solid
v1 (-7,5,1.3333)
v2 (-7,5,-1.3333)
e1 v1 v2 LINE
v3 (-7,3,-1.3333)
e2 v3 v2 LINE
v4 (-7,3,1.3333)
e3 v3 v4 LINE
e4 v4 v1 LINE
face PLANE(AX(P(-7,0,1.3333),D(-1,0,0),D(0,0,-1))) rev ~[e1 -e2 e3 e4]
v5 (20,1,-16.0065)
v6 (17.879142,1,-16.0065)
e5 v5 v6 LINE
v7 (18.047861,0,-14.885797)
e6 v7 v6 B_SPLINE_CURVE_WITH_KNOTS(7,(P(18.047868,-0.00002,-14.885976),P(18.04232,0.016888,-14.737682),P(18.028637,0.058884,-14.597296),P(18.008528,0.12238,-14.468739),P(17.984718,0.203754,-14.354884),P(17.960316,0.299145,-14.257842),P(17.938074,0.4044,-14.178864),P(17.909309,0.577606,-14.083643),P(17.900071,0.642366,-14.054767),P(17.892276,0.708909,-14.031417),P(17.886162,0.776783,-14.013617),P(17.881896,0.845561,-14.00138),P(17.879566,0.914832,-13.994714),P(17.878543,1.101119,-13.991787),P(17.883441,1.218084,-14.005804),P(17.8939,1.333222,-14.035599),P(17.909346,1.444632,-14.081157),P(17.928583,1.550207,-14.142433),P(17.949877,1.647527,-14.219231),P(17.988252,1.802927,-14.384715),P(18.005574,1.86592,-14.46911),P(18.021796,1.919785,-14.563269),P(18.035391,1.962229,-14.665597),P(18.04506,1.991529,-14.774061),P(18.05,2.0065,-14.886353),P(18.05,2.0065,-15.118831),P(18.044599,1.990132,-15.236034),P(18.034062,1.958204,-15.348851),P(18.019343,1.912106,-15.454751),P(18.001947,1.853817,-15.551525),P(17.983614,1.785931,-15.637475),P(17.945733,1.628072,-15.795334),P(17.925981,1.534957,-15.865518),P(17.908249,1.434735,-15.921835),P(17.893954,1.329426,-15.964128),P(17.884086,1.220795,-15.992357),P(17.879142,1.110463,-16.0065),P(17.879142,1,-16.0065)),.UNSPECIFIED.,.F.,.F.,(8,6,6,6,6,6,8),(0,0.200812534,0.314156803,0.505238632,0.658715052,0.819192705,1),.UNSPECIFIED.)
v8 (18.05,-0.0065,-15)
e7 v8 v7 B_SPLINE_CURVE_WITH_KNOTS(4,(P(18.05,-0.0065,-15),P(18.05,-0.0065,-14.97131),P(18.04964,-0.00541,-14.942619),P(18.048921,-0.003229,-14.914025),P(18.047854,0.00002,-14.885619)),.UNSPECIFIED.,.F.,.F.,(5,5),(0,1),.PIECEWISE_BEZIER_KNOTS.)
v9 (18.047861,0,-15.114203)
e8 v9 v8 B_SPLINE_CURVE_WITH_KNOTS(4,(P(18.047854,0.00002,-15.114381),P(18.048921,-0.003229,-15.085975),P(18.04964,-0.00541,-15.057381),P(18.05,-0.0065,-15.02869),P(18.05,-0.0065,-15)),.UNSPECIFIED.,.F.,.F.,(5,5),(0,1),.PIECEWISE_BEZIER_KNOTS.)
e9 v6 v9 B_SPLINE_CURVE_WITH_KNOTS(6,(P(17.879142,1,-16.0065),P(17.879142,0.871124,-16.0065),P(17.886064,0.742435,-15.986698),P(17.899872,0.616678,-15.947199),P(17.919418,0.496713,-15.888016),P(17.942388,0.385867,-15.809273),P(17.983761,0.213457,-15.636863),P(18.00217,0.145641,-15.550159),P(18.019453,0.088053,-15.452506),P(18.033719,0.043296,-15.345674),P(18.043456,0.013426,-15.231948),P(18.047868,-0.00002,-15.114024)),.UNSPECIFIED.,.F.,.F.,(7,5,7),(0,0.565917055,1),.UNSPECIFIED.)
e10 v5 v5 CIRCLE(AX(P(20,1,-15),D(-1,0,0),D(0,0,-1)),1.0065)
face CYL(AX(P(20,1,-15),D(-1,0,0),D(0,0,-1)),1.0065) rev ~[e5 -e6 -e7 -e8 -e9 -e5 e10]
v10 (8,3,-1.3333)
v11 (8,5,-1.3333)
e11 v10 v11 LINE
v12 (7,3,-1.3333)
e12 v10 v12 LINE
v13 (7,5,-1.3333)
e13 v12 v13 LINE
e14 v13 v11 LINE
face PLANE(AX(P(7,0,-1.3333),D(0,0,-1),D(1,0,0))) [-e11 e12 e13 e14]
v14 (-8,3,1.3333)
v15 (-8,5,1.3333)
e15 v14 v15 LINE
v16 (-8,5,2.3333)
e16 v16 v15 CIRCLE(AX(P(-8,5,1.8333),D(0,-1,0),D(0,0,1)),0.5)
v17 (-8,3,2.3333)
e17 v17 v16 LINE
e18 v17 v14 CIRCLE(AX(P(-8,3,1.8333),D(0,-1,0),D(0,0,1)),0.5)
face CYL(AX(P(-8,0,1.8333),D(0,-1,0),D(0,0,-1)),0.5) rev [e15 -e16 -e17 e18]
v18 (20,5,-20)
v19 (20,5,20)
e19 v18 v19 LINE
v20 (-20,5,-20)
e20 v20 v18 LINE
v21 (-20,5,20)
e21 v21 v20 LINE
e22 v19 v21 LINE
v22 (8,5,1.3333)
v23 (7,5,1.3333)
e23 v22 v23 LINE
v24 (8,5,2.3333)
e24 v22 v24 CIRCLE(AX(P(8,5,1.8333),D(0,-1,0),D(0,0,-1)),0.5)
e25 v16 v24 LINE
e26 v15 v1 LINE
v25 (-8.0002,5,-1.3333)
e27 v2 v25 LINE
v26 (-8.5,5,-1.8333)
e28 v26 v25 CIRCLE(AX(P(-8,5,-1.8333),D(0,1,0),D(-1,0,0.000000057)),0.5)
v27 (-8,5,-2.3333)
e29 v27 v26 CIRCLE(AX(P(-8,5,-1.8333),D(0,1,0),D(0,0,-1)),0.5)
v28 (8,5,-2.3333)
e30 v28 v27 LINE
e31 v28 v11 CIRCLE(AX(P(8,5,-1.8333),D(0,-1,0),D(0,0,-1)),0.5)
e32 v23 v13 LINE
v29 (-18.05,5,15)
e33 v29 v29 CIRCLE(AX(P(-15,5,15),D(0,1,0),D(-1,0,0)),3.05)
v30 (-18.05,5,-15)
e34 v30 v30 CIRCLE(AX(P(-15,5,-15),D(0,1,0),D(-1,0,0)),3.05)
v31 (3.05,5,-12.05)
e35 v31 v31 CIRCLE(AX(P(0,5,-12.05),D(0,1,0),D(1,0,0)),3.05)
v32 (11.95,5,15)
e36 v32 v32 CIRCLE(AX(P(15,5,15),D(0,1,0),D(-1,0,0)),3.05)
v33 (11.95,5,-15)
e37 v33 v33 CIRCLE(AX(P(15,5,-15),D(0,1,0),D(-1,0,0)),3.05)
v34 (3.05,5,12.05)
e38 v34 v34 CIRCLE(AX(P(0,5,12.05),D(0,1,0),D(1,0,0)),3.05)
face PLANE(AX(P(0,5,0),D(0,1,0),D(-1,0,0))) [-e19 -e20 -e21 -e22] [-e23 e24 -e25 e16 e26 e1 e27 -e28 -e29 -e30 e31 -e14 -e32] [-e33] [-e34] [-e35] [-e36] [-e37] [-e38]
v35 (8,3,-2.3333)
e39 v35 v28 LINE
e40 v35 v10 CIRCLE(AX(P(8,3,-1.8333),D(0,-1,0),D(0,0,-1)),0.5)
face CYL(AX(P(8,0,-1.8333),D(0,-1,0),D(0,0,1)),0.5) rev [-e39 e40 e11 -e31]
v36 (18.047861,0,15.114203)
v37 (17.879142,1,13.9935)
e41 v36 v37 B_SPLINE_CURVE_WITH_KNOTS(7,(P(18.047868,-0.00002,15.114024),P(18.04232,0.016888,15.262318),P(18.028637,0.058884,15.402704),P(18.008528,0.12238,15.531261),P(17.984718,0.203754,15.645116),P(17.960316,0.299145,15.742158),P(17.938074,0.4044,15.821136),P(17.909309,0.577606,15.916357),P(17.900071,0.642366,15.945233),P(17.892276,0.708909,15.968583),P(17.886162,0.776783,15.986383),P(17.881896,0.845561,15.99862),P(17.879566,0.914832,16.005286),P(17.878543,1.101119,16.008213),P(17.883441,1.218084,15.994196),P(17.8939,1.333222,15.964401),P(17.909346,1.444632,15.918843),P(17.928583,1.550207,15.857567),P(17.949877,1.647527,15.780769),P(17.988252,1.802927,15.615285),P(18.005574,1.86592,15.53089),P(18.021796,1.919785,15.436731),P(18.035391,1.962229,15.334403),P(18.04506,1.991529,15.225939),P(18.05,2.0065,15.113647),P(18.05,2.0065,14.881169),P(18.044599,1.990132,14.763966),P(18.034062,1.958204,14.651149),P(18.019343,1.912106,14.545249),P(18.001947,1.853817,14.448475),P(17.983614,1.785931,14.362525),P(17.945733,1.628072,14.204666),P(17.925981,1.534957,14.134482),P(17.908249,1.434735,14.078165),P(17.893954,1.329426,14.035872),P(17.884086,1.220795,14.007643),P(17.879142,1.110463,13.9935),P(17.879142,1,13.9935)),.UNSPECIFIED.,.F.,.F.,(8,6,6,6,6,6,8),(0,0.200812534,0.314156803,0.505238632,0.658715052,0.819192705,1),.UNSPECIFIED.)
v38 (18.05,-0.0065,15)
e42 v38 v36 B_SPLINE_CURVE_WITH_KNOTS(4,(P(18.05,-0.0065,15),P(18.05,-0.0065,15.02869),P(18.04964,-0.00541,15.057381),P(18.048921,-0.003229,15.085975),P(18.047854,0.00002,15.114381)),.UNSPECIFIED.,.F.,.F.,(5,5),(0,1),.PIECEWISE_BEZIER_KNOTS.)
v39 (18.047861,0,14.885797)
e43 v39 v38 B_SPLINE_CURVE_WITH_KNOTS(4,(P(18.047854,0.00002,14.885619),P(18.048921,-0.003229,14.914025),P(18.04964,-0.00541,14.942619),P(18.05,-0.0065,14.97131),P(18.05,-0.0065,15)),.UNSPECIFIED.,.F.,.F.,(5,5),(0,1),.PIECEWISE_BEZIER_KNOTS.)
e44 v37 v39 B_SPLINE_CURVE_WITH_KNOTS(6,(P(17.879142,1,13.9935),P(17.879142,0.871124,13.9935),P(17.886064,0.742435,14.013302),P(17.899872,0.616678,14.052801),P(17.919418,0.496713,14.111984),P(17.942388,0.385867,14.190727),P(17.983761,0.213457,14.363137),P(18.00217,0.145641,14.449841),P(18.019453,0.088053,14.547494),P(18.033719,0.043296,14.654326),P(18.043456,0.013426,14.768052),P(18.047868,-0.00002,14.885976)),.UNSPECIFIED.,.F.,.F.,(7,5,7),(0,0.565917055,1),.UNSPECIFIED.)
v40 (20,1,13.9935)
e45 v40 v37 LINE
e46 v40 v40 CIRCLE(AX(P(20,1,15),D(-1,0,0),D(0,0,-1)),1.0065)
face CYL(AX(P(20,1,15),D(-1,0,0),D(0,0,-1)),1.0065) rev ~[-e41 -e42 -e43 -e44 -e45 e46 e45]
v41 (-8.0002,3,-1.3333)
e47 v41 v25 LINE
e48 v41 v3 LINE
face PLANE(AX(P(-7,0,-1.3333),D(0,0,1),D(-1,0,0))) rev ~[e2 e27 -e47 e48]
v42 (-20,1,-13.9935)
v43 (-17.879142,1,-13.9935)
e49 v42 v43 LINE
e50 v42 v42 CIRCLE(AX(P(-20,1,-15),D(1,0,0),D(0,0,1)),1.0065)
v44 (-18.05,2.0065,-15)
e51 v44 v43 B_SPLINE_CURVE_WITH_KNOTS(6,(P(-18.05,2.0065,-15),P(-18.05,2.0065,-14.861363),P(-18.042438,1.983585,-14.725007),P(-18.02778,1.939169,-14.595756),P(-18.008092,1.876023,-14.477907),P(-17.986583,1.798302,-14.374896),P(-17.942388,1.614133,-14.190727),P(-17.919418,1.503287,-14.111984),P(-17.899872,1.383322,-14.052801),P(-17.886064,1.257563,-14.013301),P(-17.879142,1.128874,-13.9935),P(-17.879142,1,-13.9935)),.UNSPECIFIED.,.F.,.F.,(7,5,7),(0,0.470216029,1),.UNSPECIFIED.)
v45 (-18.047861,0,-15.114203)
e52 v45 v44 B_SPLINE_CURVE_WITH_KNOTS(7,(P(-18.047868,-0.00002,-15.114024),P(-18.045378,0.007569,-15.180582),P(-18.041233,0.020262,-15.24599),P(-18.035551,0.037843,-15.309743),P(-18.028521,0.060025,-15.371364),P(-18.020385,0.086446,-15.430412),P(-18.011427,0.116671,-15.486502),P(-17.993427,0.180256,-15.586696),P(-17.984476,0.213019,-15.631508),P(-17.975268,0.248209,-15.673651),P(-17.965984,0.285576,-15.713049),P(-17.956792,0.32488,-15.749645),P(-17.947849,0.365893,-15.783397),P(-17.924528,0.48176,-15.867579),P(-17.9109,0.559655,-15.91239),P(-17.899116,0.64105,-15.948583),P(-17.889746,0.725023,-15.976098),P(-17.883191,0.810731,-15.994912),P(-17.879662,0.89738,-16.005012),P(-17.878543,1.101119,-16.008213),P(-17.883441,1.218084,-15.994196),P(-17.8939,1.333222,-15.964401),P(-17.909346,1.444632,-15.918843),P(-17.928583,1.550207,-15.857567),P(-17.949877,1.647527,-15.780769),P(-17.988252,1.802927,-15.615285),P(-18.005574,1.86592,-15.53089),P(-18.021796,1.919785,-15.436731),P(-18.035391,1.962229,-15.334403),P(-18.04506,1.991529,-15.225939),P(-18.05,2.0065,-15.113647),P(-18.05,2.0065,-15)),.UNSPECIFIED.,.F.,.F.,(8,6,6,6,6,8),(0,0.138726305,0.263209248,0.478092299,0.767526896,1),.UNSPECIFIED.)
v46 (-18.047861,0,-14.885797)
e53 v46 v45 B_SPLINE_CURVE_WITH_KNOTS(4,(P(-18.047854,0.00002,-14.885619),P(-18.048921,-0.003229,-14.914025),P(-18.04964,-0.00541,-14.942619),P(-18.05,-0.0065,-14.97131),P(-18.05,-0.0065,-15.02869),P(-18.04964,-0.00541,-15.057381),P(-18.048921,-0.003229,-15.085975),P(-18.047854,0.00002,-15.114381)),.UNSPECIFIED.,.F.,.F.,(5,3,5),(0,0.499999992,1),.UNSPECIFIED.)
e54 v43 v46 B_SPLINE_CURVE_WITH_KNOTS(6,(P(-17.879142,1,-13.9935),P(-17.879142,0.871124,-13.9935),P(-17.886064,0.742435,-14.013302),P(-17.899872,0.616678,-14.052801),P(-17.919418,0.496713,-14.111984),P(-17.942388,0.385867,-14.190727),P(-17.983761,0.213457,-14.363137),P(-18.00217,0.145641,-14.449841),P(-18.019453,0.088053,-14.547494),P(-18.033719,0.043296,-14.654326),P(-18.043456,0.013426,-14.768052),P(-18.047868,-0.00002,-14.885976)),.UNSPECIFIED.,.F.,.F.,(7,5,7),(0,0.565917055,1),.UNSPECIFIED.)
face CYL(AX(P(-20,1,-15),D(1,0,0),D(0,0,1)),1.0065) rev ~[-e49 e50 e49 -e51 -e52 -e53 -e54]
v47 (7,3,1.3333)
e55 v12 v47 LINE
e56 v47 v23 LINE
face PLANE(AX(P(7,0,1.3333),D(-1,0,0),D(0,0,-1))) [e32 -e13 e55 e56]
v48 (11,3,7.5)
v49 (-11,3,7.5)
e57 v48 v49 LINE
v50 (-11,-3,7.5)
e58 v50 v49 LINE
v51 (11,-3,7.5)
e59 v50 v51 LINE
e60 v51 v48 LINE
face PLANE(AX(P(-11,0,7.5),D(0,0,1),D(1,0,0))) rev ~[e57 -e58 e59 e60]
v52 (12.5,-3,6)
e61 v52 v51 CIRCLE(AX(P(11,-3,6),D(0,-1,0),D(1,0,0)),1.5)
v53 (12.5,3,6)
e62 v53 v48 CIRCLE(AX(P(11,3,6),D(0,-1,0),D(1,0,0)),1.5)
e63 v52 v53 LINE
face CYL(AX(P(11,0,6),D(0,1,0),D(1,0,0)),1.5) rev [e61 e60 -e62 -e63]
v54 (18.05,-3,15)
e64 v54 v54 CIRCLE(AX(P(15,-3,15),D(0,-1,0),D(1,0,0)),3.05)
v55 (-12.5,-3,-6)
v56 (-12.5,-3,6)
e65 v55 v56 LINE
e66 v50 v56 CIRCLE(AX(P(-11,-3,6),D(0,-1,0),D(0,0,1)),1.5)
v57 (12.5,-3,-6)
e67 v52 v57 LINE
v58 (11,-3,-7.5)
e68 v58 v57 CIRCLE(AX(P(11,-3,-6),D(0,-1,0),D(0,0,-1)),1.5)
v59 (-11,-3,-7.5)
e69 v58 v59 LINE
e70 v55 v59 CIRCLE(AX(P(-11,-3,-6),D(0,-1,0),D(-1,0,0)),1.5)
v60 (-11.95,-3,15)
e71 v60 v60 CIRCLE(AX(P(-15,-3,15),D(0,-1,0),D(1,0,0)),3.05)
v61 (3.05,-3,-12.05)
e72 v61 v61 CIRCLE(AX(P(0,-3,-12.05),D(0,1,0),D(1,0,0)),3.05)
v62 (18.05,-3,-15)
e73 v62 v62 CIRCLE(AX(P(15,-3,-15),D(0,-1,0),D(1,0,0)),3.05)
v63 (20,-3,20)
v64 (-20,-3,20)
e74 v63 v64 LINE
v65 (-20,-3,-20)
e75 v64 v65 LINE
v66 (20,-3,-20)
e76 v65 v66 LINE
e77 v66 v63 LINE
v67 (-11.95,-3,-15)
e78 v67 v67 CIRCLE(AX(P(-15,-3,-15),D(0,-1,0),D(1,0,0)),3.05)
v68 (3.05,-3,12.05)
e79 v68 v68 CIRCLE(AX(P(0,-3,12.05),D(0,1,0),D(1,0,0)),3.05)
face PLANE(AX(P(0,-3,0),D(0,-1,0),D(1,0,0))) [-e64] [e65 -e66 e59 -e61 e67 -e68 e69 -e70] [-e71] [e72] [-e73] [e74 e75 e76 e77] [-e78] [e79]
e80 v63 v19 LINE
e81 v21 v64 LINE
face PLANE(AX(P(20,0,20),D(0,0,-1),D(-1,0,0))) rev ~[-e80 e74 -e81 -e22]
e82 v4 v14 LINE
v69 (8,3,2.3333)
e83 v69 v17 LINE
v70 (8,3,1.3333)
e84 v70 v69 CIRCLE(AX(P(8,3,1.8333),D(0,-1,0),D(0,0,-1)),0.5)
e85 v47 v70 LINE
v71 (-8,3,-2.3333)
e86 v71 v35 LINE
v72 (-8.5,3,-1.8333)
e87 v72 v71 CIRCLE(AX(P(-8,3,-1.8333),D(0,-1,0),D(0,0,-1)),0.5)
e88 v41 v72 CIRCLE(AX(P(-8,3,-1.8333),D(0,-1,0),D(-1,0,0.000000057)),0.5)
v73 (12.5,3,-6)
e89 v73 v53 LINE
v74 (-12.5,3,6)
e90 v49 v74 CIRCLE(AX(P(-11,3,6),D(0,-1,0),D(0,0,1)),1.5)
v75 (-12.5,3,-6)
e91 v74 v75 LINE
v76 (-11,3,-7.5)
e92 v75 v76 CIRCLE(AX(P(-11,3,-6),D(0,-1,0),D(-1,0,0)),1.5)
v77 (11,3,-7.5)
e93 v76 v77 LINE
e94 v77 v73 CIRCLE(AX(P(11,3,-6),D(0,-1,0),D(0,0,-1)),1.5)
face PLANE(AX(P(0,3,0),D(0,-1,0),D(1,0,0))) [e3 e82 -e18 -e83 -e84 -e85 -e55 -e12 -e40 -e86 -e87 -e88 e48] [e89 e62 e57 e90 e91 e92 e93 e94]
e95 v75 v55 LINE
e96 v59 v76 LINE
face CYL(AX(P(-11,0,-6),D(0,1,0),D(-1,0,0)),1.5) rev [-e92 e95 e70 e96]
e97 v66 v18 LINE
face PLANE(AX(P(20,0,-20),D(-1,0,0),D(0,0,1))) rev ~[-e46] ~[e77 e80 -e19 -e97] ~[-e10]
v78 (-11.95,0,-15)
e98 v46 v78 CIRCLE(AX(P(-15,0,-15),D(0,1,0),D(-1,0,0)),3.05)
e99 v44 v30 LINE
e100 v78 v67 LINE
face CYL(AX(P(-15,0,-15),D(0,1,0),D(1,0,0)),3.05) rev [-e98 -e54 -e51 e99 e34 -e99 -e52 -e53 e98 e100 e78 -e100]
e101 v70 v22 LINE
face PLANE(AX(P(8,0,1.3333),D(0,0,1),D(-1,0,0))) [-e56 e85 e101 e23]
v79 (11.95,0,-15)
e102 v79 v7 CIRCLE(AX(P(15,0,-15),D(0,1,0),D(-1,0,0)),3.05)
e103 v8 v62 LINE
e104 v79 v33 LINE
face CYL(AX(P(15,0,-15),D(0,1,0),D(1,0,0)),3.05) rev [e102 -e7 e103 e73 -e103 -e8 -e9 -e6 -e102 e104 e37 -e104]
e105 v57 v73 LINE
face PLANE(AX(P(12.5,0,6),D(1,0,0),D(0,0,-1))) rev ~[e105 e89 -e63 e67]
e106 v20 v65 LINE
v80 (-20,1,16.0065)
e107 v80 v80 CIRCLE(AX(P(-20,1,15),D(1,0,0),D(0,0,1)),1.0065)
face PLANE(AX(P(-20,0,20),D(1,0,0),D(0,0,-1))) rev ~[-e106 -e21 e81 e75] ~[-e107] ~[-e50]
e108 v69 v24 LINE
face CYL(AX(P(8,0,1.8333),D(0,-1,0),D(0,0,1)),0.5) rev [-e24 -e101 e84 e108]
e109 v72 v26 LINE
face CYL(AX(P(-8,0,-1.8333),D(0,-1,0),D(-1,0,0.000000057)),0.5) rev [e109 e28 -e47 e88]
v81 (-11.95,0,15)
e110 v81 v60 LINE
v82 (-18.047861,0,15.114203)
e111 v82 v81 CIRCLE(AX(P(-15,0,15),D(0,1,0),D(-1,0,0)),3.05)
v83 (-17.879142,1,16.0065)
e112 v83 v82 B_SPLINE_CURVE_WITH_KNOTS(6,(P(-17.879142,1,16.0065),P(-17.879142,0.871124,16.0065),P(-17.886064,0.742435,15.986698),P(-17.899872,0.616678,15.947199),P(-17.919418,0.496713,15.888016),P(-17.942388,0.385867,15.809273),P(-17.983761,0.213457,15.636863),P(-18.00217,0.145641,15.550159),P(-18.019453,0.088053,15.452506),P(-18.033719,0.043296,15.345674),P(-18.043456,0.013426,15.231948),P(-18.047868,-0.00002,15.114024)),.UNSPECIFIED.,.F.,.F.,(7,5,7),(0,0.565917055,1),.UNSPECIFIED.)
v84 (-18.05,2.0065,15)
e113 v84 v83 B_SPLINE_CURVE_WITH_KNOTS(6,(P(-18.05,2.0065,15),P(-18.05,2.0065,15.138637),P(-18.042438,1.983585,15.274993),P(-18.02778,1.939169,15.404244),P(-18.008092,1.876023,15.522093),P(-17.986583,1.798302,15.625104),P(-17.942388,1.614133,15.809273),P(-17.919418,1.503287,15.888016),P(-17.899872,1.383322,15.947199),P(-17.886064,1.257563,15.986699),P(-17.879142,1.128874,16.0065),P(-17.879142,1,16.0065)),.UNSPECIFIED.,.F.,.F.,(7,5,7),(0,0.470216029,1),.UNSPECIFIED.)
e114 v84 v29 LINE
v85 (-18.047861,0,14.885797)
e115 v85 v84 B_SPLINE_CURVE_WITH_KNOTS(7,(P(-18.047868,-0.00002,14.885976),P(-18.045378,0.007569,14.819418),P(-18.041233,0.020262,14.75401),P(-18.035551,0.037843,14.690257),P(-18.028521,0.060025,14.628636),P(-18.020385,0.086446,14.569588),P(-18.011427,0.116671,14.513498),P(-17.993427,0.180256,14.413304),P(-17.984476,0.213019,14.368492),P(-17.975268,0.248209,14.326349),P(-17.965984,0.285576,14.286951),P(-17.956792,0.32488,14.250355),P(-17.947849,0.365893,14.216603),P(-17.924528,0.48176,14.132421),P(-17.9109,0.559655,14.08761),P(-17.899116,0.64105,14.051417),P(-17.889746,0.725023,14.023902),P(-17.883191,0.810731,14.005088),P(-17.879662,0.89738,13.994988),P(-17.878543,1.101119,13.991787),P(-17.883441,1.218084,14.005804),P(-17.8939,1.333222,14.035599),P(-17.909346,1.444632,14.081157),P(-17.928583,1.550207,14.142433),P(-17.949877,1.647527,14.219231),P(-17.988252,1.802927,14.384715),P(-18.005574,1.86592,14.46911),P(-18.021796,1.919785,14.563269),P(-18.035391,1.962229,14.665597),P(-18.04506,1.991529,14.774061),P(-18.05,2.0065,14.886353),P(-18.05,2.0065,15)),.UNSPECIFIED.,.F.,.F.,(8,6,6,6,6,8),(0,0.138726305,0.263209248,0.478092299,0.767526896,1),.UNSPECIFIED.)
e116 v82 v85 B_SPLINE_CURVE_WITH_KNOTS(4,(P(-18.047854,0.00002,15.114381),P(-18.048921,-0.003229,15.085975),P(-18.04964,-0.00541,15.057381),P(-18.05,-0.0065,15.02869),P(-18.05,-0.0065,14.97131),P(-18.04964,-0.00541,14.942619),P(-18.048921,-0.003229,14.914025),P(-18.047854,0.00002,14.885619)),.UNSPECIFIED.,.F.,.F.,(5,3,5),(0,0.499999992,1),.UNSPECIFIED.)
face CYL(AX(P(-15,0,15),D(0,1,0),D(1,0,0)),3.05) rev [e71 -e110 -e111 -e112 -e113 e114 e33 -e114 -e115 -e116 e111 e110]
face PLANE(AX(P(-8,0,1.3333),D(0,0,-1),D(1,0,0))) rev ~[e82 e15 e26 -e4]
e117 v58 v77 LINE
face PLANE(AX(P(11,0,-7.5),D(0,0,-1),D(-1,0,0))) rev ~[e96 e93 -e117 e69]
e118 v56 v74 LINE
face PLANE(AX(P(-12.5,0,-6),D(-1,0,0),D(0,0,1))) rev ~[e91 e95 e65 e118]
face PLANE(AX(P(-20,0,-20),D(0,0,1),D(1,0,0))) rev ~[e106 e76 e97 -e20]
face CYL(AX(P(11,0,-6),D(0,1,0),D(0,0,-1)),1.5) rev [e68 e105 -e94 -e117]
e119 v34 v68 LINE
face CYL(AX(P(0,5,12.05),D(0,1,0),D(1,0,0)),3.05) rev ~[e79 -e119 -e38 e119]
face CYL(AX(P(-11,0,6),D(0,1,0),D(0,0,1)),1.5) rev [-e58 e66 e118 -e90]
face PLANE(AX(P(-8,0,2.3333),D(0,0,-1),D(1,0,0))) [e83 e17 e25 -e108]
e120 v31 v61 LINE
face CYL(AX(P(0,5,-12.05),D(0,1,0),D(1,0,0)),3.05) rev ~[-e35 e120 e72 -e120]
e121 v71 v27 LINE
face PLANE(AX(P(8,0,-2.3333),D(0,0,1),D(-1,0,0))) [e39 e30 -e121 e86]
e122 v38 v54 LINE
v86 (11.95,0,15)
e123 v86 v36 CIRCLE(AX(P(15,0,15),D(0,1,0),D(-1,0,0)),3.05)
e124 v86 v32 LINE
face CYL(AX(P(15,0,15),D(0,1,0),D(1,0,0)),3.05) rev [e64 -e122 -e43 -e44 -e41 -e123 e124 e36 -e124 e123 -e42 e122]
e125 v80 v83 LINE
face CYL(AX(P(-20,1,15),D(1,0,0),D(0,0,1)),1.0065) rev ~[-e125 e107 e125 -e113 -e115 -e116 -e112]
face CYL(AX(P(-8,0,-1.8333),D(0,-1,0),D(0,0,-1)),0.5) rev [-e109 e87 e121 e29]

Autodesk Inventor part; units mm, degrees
ref_plane "YZ Plane" through (0, 0, 0) normal (1, 0, 0) x (0, 1, 0)
ref_plane "XZ Plane" through (0, 0, 0) normal (0, 1, 0) x (-1, 0, 0)
ref_plane "XY Plane" through (0, 0, 0) normal (0, 0, 1) x (1, 0, 0)
sketch "Sketch1" plane through (0, 0, 0) normal (0, 1, 0) x (-1, 0, 0)
  line L0 (20, 20) -> (20, -20)
  line L1 (20, -20) -> (-20, -20)
  line L2 (-20, -20) -> (-20, 20)
  line L3 (-20, 20) -> (20, 20)
  line L4 (-15, 15) -> (-15, -15) construction
  line L5 (-15, -15) -> (15, -15) construction
  line L6 (15, -15) -> (15, 15) construction
  line L7 (15, 15) -> (-15, 15) construction
  circle A0 centre (15, 15) radius 3.05
  circle A1 centre (15, -15) radius 3.05
  circle A2 centre (-15, -15) radius 3.05
  circle A3 centre (-15, 15) radius 3.05
  line L8 (0, 0) -> (-18.5703, 0) construction
  line L9 (0, 0) -> (0, 25.6262) construction
  line L10 (0, 0) -> (-18.05, 0) construction
  line L11 (8, 2.3333) -> (-8, 2.3333)
  line L12 (-8.5, 1.8333) -> (-8.5, 1.8333)
  line L13 (8.5, 1.8333) -> (8.5, 1.8333)
  line L14 (8.5, 2.3333) -> (-8.5, 3.0056) construction
  line L15 (-8.5, 2.3333) -> (8.5, 3.0548) construction
  arc A4 (8.5, 1.8333) -> (8, 2.3333) centre (8, 1.8333) ccw
  arc A5 (8, 1.3333) -> (8.5, 1.8333) centre (8, 1.8333) ccw
  arc A6 (-8.5, 1.8333) -> (-8, 1.3333) centre (-8, 1.8333) ccw
  arc A7 (-8, 2.3333) -> (-8.5, 1.8333) centre (-8, 1.8333) ccw
  line L16 (-8.5, -1.8333) -> (-8.5, -1.8333)
  line L17 (-8, -2.3333) -> (8, -2.3333)
  line L18 (8.5, -1.8333) -> (8.5, -1.8333)
  line L19 (8.5, -0.691) -> (-8.5, -2.3333) construction
  line L20 (-8.5, -0.6827) -> (8.5, -2.3333) construction
  arc A8 (8.5, -1.8333) -> (8.0002, -1.3333) centre (8, -1.8333) ccw
  arc A9 (8, -2.3333) -> (8.5, -1.8333) centre (8, -1.8333) ccw
  arc A10 (-8.5, -1.8333) -> (-8, -2.3333) centre (-8, -1.8333) ccw
  arc A11 (-8, -1.3333) -> (-8.5, -1.8333) centre (-8, -1.8333) ccw
  line L21 (8, 1.3333) -> (7, 1.3333)
  line L22 (7, 1.3333) -> (7, -1.3333)
  line L23 (7, -1.3333) -> (8.0002, -1.3333)
  line L24 (-8, 1.3333) -> (-7, 1.3333)
  line L25 (-7, 1.3333) -> (-7, -1.3333)
  line L26 (-7, -1.3333) -> (-8, -1.3333)
  point P0 (0, -12.01)
  point P1 (-0.3001, 2.6813)
  point P2 (0, 2.694)
  point P3 (0.0215, -1.5101)
  point P4 (0, -1.508)
  point P5 (0, -1.5122)
  dimension "d0" = 40
  dimension "d1" = 40
  dimension "d2" = 30
  dimension "d53" = 20
  dimension "d114" = 17
  dimension "d117" = 0.5
  dimension "d140" = 17
  dimension "d142" = 0.5
  dimension "d146" = 14
  dimension "d147" = 7
  dimension "d150" = 1.3333
  dimension "d151" = 1.3333
  dimension "d152" = 2.3333
  dimension "d153" = 2.3333
extrude "Extrusion15" add sketch "Sketch1" along normal blind 5
sketch "Sketch11" plane through (0, 0, 0) normal (0, -1, 0) x (1, 0, 0)
  line L0 (-11, -7.5) -> (11, -7.5)
  line L1 (12.5, -6) -> (12.5, 6)
  line L2 (11, 7.5) -> (-11, 7.5)
  line L3 (-12.5, 6) -> (-12.5, -6)
  line L4 (-12.5, -7.5) -> (12.5, 7.5) construction
  line L5 (12.5, -7.5) -> (-12.5, 7.5) construction
  arc A0 (-11, 7.5) -> (-12.5, 6) centre (-11, 6) ccw
  arc A1 (-12.5, -6) -> (-11, -7.5) centre (-11, -6) ccw
  arc A2 (11, -7.5) -> (12.5, -6) centre (11, -6) ccw
  arc A3 (12.5, 6) -> (11, 7.5) centre (11, 6) ccw
  point P0 (0, 0)
  dimension "d154" = 15
  dimension "d155" = 25
  dimension "d156" = 1.5
extrude "Extrusion16" cut sketch "Sketch11" against normal blind 3
sketch "Sketch14" plane through (0, 0, 0) normal (0, -1, 0) x (1, 0, 0)
  arc A0 (-12.5, -6) -> (-11, -7.5) centre (-11, -6) ccw projected
  line L0 (-12.5, -6) -> (-12.5, 6) projected
  arc A1 (-11, 7.5) -> (-12.5, 6) centre (-11, 6) ccw projected
  line L1 (-11, 7.5) -> (11, 7.5) projected
  arc A2 (12.5, 6) -> (11, 7.5) centre (11, 6) ccw projected
  line L2 (12.5, 6) -> (12.5, -6) projected
  arc A3 (11, -7.5) -> (12.5, -6) centre (11, -6) ccw projected
  line L3 (11, -7.5) -> (-11, -7.5) projected
  circle A4 centre (15, 15) radius 3.05 projected
  circle A5 centre (15, -15) radius 3.05 projected
  circle A6 centre (-15, -15) radius 3.05 projected
  circle A7 centre (-15, 15) radius 3.05 projected
  line L4 (-20, 20) -> (-20, -20) projected
  line L5 (-20, -20) -> (20, -20) projected
  line L6 (20, -20) -> (20, 20) projected
  line L7 (20, 20) -> (-20, 20) projected
  point P0 (0, 0)
extrude "Extrusion17" add sketch "Sketch14" along normal blind 3
sketch "Sketch12" plane through (20, 0, 20) normal (1, 0, 0) x (0, 0, -1)
  line L0 (40, 5) -> (40, -3) projected
  line L1 (0, 5) -> (40, 5) projected
  line L2 (0, 5) -> (0, -3) projected
  line L3 (40, -3) -> (0, -3) projected
  point P0 (20, 0)
  point P1 (5, 1)
  point P2 (35, 1)
  dimension "d163" = 5
  dimension "d164" = 5
  dimension "d165" = 4
  dimension "d166" = 4
hole "Hole1" at (20, 1, 15) at (20, 1, -15) direction (-1, 0, 0) diameter 2.013 depth 5 tip angle 118 thread size "M2.5x0.45" class "6H" standard "ISO Metric profile"
sketch "Sketch13" plane through (-20, 0, -20) normal (-1, 0, 0) x (0, 0, 1)
  line L0 (40, -3) -> (40, 5) projected
  line L1 (0, 5) -> (40, 5) projected
  line L2 (0, 5) -> (0, -3) projected
  circle A0 centre (35, 1) radius 1.0065 projected
  circle A1 centre (5, 1) radius 1.0065 projected
  line L3 (40, -3) -> (0, -3) projected
  point P0 (20, 0)
  point P1 (33.9935, 1)
  point P2 (3.9935, 1)
hole "Hole2" at (-20, 1, 15) at (-20, 1, -15) direction (1, 0, 0) diameter 2.013 depth 5 tip angle 118 thread size "M2.5x0.45" class "6H" standard "ISO Metric profile"
sketch "Sketch15" plane through (0, 5, 0) normal (0, 1, 0) x (1, 0, 0)
  circle A0 centre (0, -12.05) radius 3.05
  circle A1 centre (0, 12.05) radius 3.05
  point P0 (0, 0)
  dimension "d183" = 6.1
  dimension "d184" = 12.05
  dimension "d185" = 6.1
  dimension "d186" = 12.05
extrude "Extrusion18" cut sketch "Sketch15" against normal blind 10
equation "\"d1\" = d0"
properties part number "HolderStartV2"
